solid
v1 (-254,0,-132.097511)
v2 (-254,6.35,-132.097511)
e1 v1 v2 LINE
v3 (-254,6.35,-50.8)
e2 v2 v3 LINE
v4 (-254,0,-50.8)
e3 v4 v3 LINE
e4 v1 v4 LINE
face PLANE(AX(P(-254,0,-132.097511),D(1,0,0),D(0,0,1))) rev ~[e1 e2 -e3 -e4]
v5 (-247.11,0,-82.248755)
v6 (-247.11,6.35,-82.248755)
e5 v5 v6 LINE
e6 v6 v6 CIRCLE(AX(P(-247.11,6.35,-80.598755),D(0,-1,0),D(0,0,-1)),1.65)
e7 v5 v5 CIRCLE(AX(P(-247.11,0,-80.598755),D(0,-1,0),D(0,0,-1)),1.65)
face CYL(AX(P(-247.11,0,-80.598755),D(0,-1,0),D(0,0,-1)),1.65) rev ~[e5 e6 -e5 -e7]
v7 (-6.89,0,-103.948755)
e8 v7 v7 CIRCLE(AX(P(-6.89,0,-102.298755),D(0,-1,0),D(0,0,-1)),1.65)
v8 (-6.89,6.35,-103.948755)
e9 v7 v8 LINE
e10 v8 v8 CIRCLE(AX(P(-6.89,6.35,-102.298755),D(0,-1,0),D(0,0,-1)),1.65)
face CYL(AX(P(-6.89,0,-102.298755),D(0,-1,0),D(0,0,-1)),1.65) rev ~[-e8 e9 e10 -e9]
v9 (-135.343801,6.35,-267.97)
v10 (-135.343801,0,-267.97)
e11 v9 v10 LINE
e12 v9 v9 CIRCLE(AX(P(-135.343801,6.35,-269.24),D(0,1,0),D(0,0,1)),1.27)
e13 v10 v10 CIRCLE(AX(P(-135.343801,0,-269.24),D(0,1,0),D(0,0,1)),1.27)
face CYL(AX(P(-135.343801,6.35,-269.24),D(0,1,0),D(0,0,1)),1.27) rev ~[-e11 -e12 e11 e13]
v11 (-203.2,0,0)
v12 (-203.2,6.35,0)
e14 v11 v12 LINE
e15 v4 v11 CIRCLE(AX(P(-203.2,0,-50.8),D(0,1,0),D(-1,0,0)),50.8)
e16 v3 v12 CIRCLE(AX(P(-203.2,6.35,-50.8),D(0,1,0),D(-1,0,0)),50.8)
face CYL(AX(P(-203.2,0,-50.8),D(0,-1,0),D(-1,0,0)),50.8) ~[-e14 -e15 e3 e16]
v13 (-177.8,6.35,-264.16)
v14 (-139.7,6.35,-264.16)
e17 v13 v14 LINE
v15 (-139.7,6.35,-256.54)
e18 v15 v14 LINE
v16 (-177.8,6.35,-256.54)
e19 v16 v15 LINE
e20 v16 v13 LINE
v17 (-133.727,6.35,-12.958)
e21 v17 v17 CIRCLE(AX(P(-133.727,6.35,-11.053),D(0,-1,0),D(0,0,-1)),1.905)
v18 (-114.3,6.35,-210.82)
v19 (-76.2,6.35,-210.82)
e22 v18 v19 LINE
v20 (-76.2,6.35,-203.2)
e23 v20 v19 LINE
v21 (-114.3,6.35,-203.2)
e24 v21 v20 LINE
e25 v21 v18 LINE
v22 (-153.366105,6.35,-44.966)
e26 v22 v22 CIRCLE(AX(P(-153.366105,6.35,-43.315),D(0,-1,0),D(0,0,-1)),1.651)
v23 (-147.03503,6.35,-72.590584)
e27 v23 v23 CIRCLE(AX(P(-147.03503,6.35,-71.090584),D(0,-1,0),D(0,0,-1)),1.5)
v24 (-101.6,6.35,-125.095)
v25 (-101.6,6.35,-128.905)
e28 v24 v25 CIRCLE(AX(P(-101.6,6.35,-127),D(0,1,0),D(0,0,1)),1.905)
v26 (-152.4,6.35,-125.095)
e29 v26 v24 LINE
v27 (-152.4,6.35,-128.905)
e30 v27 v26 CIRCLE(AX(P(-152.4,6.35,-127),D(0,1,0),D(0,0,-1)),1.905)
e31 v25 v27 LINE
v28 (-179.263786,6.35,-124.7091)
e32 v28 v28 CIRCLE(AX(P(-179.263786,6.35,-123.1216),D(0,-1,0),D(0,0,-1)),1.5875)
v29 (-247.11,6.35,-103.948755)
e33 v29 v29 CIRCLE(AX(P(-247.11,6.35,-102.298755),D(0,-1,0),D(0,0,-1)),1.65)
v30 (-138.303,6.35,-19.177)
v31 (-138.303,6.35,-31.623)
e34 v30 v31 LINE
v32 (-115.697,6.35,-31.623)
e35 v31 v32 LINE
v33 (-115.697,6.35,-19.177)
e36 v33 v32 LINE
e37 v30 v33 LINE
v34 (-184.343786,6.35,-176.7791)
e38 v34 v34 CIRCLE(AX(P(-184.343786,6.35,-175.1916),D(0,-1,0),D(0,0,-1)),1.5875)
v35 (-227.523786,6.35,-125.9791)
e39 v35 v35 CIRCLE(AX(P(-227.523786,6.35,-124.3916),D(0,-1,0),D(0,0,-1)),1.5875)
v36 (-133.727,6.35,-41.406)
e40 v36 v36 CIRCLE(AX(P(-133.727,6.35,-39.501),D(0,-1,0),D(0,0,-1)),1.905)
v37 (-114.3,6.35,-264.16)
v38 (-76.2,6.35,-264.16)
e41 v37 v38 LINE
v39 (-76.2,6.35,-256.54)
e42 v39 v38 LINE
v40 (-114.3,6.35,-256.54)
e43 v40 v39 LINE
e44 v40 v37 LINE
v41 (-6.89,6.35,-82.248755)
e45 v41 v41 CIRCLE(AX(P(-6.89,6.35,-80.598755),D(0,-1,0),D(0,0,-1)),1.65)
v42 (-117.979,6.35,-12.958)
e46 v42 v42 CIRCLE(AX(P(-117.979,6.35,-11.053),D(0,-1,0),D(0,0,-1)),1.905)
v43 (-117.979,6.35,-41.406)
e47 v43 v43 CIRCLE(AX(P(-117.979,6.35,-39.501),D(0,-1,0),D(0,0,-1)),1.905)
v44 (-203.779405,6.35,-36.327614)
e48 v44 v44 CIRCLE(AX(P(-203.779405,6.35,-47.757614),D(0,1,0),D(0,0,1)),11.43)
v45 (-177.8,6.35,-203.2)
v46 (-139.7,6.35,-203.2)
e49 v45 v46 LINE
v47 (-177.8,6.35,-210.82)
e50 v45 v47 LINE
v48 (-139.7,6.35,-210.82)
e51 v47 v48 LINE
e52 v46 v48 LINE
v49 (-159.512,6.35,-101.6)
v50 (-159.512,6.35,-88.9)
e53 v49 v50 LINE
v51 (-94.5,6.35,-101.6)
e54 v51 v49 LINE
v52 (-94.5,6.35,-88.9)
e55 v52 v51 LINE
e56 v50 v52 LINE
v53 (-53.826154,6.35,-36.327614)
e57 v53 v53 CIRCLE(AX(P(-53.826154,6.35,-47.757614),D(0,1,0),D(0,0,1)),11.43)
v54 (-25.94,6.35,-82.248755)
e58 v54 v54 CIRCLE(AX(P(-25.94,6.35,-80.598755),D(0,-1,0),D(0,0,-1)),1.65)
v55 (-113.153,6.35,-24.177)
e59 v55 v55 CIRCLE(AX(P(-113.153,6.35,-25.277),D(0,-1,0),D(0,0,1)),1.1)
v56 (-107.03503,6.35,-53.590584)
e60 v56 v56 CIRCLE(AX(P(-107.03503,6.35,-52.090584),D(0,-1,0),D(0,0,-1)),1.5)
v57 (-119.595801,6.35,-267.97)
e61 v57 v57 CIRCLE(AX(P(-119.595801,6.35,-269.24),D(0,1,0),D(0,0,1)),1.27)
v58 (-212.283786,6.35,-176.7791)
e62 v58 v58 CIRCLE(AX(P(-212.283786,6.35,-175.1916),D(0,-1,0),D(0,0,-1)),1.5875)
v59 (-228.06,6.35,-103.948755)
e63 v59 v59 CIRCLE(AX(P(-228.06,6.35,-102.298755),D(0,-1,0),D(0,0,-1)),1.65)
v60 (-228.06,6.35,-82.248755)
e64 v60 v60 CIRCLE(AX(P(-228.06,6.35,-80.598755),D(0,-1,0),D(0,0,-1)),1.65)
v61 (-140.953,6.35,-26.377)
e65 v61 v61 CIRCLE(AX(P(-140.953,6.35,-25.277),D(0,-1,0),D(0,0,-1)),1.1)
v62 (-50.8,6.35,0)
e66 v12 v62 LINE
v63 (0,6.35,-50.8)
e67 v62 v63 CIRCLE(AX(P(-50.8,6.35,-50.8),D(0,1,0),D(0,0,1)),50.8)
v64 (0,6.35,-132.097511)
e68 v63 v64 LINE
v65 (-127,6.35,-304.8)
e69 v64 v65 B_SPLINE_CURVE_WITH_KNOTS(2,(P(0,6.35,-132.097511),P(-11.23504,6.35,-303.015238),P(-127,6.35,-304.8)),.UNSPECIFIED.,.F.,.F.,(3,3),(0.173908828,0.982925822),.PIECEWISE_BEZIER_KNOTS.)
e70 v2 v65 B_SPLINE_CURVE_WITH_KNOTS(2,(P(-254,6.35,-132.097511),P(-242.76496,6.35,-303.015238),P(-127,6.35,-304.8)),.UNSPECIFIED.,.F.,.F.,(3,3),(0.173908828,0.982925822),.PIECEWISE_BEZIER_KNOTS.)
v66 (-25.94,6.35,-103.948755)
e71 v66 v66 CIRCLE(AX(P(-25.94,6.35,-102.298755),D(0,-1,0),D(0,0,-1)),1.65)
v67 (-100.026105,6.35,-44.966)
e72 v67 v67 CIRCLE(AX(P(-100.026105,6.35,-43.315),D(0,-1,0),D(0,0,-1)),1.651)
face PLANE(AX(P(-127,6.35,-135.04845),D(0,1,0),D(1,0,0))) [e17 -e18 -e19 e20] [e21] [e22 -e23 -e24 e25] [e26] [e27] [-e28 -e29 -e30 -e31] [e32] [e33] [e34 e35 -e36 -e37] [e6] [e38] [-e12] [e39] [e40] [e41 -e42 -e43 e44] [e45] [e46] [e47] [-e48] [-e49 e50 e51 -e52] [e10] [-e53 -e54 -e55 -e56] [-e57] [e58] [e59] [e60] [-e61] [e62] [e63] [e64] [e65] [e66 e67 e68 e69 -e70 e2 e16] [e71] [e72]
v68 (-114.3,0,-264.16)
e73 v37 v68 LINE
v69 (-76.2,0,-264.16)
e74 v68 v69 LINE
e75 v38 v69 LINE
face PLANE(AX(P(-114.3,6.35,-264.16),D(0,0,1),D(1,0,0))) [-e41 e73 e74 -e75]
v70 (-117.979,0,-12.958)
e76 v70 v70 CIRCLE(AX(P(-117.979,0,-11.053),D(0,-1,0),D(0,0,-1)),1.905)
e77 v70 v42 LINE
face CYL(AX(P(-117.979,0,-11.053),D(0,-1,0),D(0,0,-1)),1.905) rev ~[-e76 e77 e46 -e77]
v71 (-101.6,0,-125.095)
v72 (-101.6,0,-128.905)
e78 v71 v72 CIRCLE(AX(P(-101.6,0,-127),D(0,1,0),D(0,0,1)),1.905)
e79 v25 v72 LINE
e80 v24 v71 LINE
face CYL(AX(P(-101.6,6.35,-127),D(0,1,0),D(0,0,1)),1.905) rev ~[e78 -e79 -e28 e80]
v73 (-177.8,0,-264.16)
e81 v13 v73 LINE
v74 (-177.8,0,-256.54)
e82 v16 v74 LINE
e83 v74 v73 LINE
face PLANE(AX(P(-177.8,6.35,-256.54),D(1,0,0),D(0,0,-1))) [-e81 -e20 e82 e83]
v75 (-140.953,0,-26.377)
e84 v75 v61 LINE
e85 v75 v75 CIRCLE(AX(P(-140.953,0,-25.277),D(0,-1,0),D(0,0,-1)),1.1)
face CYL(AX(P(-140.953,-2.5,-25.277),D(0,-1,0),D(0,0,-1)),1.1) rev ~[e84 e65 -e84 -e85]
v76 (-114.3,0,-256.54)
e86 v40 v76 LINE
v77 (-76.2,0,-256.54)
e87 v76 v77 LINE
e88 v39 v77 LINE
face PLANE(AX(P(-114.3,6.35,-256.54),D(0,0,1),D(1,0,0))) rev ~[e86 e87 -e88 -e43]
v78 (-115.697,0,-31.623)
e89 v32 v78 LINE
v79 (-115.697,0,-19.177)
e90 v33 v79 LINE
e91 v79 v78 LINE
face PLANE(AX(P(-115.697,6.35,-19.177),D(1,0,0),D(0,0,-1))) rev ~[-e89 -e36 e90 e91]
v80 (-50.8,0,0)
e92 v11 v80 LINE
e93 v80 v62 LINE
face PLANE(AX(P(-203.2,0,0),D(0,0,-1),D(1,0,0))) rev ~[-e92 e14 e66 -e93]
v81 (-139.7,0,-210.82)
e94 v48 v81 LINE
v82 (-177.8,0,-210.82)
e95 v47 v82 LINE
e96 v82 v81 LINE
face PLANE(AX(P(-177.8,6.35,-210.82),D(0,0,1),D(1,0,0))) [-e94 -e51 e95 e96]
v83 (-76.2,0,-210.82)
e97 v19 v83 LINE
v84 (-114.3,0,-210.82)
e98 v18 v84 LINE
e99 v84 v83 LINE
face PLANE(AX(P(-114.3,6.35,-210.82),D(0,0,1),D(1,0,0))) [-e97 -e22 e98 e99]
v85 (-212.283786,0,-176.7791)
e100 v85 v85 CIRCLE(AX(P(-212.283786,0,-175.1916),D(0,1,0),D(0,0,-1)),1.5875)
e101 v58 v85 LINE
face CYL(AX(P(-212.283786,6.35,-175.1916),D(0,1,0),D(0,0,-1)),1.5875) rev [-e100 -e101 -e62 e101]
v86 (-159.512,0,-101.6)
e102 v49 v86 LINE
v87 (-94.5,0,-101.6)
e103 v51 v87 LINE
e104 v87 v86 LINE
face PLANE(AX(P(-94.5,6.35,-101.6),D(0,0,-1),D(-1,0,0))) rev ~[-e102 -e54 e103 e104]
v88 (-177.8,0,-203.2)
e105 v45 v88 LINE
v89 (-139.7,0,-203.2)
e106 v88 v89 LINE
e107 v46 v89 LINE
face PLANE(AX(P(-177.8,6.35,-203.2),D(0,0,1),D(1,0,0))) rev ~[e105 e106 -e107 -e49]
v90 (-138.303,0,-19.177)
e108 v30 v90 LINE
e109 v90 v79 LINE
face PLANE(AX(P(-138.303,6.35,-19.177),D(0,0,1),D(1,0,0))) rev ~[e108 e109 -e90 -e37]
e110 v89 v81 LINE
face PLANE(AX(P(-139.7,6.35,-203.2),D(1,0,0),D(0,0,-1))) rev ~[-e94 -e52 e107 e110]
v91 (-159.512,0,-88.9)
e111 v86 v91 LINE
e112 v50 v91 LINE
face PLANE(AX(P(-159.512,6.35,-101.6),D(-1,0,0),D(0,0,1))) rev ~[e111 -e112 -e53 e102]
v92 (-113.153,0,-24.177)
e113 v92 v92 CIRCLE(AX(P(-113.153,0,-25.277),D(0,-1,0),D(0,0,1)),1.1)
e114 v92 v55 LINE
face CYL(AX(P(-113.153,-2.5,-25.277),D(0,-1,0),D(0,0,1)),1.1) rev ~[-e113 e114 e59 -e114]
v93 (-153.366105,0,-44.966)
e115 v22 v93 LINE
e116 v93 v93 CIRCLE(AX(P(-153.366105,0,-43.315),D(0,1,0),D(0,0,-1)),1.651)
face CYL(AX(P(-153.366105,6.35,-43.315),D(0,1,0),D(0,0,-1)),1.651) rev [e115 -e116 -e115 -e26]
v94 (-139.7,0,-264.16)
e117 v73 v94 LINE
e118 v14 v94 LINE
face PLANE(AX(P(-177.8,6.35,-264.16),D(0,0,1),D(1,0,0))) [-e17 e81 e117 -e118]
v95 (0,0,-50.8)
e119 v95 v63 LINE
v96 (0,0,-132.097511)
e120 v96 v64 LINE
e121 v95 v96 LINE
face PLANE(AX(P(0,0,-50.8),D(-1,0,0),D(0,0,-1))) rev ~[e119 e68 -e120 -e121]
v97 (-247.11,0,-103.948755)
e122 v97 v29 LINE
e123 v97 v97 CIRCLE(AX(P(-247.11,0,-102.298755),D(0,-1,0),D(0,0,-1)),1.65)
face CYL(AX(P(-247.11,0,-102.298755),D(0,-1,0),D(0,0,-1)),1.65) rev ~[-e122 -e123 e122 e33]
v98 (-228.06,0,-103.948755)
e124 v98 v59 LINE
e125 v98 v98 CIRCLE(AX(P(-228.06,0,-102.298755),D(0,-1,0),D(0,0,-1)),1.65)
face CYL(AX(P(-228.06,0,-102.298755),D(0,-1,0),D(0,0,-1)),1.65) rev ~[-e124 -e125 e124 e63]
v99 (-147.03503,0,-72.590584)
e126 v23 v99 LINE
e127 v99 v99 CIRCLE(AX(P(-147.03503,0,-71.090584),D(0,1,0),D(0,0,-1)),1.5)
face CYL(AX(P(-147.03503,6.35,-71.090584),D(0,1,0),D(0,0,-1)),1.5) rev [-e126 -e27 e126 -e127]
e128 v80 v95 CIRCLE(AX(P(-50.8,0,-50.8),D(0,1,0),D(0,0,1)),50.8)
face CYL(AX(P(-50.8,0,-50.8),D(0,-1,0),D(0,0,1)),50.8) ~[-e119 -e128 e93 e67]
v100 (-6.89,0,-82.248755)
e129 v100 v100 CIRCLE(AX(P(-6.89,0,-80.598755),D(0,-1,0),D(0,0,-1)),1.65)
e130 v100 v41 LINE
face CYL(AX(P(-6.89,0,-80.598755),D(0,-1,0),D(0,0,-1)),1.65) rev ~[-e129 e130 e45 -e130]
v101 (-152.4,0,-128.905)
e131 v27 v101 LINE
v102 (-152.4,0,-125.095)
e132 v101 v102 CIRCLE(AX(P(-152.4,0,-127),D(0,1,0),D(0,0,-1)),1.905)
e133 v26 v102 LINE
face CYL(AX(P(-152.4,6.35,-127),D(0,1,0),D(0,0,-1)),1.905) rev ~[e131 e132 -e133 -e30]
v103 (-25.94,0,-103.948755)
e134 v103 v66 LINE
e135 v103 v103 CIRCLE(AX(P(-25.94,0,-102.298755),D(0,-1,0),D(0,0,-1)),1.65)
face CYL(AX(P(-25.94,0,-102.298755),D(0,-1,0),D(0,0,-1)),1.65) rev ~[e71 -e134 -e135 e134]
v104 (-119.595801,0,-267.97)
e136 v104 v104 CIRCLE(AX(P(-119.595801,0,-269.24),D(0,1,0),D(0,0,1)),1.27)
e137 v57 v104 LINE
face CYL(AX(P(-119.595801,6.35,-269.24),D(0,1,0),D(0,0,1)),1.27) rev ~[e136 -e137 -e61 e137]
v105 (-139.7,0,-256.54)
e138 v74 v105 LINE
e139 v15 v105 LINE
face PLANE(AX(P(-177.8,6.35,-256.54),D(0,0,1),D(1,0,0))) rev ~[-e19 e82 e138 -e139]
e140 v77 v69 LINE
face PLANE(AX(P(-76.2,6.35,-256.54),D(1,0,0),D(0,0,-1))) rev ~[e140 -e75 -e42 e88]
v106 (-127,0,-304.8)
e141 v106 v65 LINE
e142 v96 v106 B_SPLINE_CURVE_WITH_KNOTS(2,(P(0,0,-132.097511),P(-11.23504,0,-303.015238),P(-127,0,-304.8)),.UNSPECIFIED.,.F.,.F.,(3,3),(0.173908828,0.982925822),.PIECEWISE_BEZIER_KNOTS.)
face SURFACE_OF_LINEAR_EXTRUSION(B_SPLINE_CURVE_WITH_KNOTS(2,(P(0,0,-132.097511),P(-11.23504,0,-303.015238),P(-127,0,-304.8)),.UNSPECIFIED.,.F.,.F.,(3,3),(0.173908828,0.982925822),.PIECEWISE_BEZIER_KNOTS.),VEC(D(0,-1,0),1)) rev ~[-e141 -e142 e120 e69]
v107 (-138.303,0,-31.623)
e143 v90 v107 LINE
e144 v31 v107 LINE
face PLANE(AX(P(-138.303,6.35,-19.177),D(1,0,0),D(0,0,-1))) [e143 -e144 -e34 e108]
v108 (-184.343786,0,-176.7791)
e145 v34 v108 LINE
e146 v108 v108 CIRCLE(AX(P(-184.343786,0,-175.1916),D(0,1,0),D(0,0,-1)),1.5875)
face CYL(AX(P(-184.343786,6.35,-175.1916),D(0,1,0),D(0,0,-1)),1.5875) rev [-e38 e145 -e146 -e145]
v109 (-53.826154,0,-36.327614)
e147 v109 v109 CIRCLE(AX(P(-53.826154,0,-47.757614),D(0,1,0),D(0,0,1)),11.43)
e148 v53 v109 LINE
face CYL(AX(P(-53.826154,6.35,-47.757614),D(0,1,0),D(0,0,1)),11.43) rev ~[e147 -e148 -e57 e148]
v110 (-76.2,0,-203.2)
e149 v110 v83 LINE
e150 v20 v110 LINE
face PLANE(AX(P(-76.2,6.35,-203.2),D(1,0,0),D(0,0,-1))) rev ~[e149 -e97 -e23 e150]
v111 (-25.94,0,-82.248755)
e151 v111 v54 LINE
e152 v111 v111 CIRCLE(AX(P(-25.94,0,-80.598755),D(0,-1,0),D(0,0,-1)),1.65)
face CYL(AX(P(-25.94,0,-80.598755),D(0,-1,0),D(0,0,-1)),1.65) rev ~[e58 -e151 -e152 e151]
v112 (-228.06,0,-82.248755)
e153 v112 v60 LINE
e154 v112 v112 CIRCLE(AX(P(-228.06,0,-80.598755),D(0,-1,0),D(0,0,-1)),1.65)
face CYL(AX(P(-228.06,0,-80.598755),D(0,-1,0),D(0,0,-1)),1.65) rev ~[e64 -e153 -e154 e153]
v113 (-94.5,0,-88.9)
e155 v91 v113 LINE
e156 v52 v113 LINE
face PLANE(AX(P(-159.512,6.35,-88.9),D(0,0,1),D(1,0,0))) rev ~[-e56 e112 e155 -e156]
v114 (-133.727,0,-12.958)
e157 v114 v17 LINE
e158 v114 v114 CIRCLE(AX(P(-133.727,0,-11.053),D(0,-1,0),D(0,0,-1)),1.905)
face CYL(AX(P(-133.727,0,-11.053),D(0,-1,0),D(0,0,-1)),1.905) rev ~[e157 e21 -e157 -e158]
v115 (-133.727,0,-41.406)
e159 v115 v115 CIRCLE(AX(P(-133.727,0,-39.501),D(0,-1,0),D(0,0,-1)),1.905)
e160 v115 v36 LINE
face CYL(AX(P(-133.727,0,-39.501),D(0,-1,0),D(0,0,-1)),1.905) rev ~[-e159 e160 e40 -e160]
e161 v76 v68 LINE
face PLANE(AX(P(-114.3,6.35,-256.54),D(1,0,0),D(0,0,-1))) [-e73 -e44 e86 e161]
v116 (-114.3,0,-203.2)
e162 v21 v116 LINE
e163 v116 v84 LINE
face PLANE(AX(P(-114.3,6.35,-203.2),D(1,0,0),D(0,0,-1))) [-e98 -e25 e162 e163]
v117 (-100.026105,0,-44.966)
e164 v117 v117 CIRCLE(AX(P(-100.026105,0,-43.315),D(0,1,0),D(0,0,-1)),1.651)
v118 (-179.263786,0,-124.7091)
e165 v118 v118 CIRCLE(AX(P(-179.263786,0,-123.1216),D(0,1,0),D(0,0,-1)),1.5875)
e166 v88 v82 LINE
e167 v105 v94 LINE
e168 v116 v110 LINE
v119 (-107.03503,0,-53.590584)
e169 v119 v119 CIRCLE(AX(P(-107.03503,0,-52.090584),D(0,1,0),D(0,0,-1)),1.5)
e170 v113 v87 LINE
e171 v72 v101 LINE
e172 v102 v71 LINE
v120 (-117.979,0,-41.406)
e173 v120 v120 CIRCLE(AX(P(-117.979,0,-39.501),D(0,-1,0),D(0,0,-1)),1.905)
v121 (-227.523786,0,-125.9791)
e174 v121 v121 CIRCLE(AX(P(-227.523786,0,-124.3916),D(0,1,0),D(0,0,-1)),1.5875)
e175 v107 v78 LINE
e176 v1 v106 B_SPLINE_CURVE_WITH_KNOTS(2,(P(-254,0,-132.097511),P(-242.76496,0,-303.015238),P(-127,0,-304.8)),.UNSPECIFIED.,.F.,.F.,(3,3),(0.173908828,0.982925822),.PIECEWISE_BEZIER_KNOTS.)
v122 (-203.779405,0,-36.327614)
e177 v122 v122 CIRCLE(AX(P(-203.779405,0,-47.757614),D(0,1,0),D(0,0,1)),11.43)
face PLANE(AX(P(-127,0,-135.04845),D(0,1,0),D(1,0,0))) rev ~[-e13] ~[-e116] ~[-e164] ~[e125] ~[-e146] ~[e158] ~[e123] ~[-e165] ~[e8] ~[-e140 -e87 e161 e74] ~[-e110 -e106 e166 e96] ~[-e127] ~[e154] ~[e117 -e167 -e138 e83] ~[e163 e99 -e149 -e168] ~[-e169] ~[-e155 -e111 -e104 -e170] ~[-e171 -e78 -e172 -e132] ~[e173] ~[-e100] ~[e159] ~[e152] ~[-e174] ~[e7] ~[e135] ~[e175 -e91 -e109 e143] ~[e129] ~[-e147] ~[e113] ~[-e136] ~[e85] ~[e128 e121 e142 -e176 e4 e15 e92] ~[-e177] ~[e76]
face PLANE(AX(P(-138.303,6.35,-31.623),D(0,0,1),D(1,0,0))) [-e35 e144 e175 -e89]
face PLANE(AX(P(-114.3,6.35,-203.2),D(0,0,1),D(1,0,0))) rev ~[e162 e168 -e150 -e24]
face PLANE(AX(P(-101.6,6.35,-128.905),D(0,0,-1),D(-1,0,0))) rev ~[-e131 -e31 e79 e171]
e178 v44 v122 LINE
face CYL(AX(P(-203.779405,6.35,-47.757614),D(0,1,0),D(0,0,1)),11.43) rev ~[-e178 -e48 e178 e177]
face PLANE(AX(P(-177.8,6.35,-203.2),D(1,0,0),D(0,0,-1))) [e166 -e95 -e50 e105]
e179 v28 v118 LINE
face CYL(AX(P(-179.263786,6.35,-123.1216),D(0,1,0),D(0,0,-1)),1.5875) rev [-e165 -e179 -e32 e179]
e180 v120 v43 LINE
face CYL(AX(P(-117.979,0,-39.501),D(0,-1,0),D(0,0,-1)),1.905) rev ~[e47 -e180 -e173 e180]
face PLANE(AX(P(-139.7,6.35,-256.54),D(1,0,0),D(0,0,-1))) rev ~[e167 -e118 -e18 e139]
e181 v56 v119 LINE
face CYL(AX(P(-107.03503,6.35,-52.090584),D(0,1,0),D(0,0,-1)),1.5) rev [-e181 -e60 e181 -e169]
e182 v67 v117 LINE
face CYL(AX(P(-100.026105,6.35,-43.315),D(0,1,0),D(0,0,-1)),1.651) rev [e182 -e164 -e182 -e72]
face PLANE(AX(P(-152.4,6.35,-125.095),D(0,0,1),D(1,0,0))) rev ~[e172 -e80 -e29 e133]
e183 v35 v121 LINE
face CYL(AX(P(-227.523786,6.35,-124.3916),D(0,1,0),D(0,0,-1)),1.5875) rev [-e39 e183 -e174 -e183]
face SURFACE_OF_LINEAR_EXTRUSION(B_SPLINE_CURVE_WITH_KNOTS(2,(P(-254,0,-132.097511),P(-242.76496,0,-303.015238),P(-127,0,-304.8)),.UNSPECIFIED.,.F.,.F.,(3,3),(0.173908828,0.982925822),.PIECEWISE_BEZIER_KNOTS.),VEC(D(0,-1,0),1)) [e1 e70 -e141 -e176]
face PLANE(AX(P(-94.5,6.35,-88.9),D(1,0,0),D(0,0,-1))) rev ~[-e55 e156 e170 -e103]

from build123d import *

# Parameters (mm, degrees)
BOSS_EXTRUDE1_DEPTH = 6.35
SKETCH2_R           = 1.27
CUT_EXTRUDE1_DEPTH  = 397.811495062
SKETCH5_R           = 1.27
CUT_EXTRUDE2_DEPTH  = 397.811495062
SKETCH6_W           = 38.1
SKETCH6_H           = 7.62
CUT_EXTRUDE5_DEPTH  = 397.811495062
CUT_EXTRUDE9_DEPTH  = 397.811495062
SKETCH15_W          = 22.606
SKETCH15_H          = 12.446
CUT_EXTRUDE12_DEPTH = 397.811495062
SKETCH17_R          = 1.1
CUT_EXTRUDE13_DEPTH = 343.418665957
SKETCH18_R          = 1.5875
SKETCH18_R_2        = 1.5
SKETCH18_R_3        = 1.651
CUT_EXTRUDE14_DEPTH = 343.36317383
SKETCH19_R          = 1.65
CUT_EXTRUDE15_DEPTH = 343.36317383
SKETCH20_R          = 11.43
CUT_EXTRUDE16_DEPTH = 397.811495062
SKETCH24_R          = 1.905
CUT_EXTRUDE20_DEPTH = 343.36317383


with BuildPart() as part:
    # Sketch1 → Boss-Extrude1 (new body)
    with BuildSketch(Plane(origin=(0, 0, 0), x_dir=(1, 0, 0), z_dir=(0, 1, 0))):
        with BuildLine():
            Line((-203.2, 0), (-50.8, 0))
            ThreePointArc((-50.8, 0), (-14.878975516, 14.878975516), (0, 50.8))
            Line((0, 50.8), (0, 132.097510542))
            add(Edge.make_bspline(
                [(0, 132.097510542), (-11.235039637, 303.015237559), (-127, 304.8)],
                knots=[0.173908828, 0.173908828, 0.173908828, 0.982925822, 0.982925822, 0.982925822], degree=2))
            add(Edge.make_bspline(
                [(-254, 132.097510542), (-242.764960363, 303.015237559), (-127, 304.8)],
                knots=[0.173908828, 0.173908828, 0.173908828, 0.982925822, 0.982925822, 0.982925822], degree=2))
            Line((-254, 132.097510542), (-254, 50.8))
            ThreePointArc((-254, 50.8), (-239.121024484, 14.878975516), (-203.2, 0))
        make_face()
    extrude(amount=BOSS_EXTRUDE1_DEPTH)

    # Sketch2 → Cut-Extrude1 (cut, through all)
    with BuildSketch(Plane(origin=(0, 6.35, 0), x_dir=(1, 0, 0), z_dir=(0, 1, 0))):
        with Locations(Location((-135.34380131, 269.24, 0), (0, 0, 270))):
            Circle(SKETCH2_R)
    extrude(amount=-CUT_EXTRUDE1_DEPTH, mode=Mode.SUBTRACT)

    # Sketch5 → Cut-Extrude2 (cut, through all)
    with BuildSketch(Plane(origin=(0, 6.35, 0), x_dir=(1, 0, 0), z_dir=(0, 1, 0))):
        with Locations(Location((-119.59580131, 269.24, 0), (0, 0, 270))):
            Circle(SKETCH5_R)
    extrude(amount=-CUT_EXTRUDE2_DEPTH, mode=Mode.SUBTRACT)

    # Sketch6 → Cut-Extrude5 (cut, through all)
    with BuildSketch(Plane(origin=(0, 6.35, 0), x_dir=(1, 0, 0), z_dir=(0, 1, 0))):
        with Locations((-158.75, 207.01)):
            Rectangle(SKETCH6_W, SKETCH6_H)
        with Locations((-158.75, 260.35)):
            Rectangle(SKETCH6_W, SKETCH6_H)
        with Locations((-95.25000011, 207.01)):
            Rectangle(SKETCH6_W, SKETCH6_H)
        with Locations((-95.25000011, 260.35)):
            Rectangle(SKETCH6_W, SKETCH6_H)
    extrude(amount=-CUT_EXTRUDE5_DEPTH, mode=Mode.SUBTRACT)

    # Sketch12 → Cut-Extrude9 (cut, through all)
    with BuildSketch(Plane(origin=(0, 6.35, 0), x_dir=(1, 0, 0), z_dir=(0, 1, 0))):
        with BuildLine():
            Line((-152.4, 125.095), (-101.6, 125.095))
            ThreePointArc((-101.6, 125.095), (-99.695, 127), (-101.6, 128.905))
            Line((-101.6, 128.905), (-152.4, 128.905))
            ThreePointArc((-152.4, 128.905), (-154.305, 127), (-152.4, 125.095))
        make_face()
        Polygon((-159.512, 101.6), (-159.512, 88.9), (-145.203610871, 88.9), (-94.5, 88.9), (-94.5, 101.6), align=None)
    extrude(amount=-CUT_EXTRUDE9_DEPTH, mode=Mode.SUBTRACT)

    # Sketch15 → Cut-Extrude12 (cut, through all)
    with BuildSketch(Plane(origin=(0, 6.35, 0), x_dir=(1, 0, 0), z_dir=(0, 1, 0))):
        with Locations((-127.000000055, 25.4)):
            Rectangle(SKETCH15_W, SKETCH15_H)
    extrude(amount=-CUT_EXTRUDE12_DEPTH, mode=Mode.SUBTRACT)

    # Sketch17 → Cut-Extrude13 (cut, through all)
    with BuildSketch(Plane(origin=(-70.897607534, -2.5, -15.584277619), x_dir=(1, 0, 0), z_dir=(0, -1, 0))):
        with Locations(Location((-70.055392521, -9.692722381, 0), (0, 0, 270))):
            Circle(SKETCH17_R)
        with Locations(Location((-42.255392521, -9.692722381, 0), (0, 0, 90))):
            Circle(SKETCH17_R)
    extrude(amount=-CUT_EXTRUDE13_DEPTH, mode=Mode.SUBTRACT)

    # Sketch18 → Cut-Extrude14 (cut, through all)
    with BuildSketch(Plane(origin=(-70.897607534, 6.35, -15.584277619), x_dir=(1, 0, 0), z_dir=(0, -1, 0))):
        with Locations(Location((-108.366177987, -107.537321923, 0), (0, 0, 270))):
            Circle(SKETCH18_R)
        with Locations(Location((-156.626177987, -108.807321923, 0), (0, 0, 270))):
            Circle(SKETCH18_R)
        with Locations(Location((-141.386177987, -159.607321923, 0), (0, 0, 270))):
            Circle(SKETCH18_R)
        with Locations(Location((-113.446177987, -159.607321923, 0), (0, 0, 270))):
            Circle(SKETCH18_R)
        with Locations(Location((-36.13742283, -36.50630685, 0), (0, 0, 270))):
            Circle(SKETCH18_R_2)
        with Locations(Location((-76.13742283, -55.50630685, 0), (0, 0, 270))):
            Circle(SKETCH18_R_2)
        with Locations(Location((-82.468497304, -27.730722381, 0), (0, 0, 270))):
            Circle(SKETCH18_R_3)
        with Locations(Location((-29.128497304, -27.730722381, 0), (0, 0, 270))):
            Circle(SKETCH18_R_3)
    extrude(amount=CUT_EXTRUDE14_DEPTH, mode=Mode.SUBTRACT)

    # Sketch19 → Cut-Extrude15 (cut, through all)
    with BuildSketch(Plane(origin=(-70.897607534, 0, -15.584277619), x_dir=(1, 0, 0), z_dir=(0, -1, 0))):
        with Locations(Location((-176.212392466, -65.014477652, 0), (0, 0, 270))):
            Circle(SKETCH19_R)
        with Locations(Location((-157.162392466, -65.014477652, 0), (0, 0, 270))):
            Circle(SKETCH19_R)
        with Locations(Location((-176.212392466, -86.714477652, 0), (0, 0, 270))):
            Circle(SKETCH19_R)
        with Locations(Location((-157.162392466, -86.714477652, 0), (0, 0, 270))):
            Circle(SKETCH19_R)
        with Locations(Location((64.007607534, -86.714477652, 0), (0, 0, 270))):
            Circle(SKETCH19_R)
        with Locations(Location((44.957607534, -86.714477652, 0), (0, 0, 270))):
            Circle(SKETCH19_R)
        with Locations(Location((44.957607534, -65.014477652, 0), (0, 0, 270))):
            Circle(SKETCH19_R)
        with Locations(Location((64.007607534, -65.014477652, 0), (0, 0, 270))):
            Circle(SKETCH19_R)
    extrude(amount=-CUT_EXTRUDE15_DEPTH, mode=Mode.SUBTRACT)

    # Sketch20 → Cut-Extrude16 (cut, through all)
    with BuildSketch(Plane(origin=(0, 6.35, 0), x_dir=(1, 0, 0), z_dir=(0, 1, 0))):
        with Locations(Location((-53.826154214, 47.757613525, 0), (0, 0, 270))):
            Circle(SKETCH20_R)
        with Locations(Location((-203.77940498, 47.757613525, 0), (0, 0, 270))):
            Circle(SKETCH20_R)
    extrude(amount=-CUT_EXTRUDE16_DEPTH, mode=Mode.SUBTRACT)

    # Sketch24 → Cut-Extrude20 (cut, through all)
    with BuildSketch(Plane(origin=(-70.897607534, 0, -15.584277619), x_dir=(1, 0, 0), z_dir=(0, -1, 0))):
        with Locations(Location((-62.829392521, -23.916722381, 0), (0, 0, 270))):
            Circle(SKETCH24_R)
        with Locations(Location((-47.081392521, -23.916722381, 0), (0, 0, 270))):
            Circle(SKETCH24_R)
        with Locations(Location((-47.081392521, 4.531277619, 0), (0, 0, 270))):
            Circle(SKETCH24_R)
        with Locations(Location((-62.829392521, 4.531277619, 0), (0, 0, 270))):
            Circle(SKETCH24_R)
    extrude(amount=-CUT_EXTRUDE20_DEPTH, mode=Mode.SUBTRACT)


solid = part.part
